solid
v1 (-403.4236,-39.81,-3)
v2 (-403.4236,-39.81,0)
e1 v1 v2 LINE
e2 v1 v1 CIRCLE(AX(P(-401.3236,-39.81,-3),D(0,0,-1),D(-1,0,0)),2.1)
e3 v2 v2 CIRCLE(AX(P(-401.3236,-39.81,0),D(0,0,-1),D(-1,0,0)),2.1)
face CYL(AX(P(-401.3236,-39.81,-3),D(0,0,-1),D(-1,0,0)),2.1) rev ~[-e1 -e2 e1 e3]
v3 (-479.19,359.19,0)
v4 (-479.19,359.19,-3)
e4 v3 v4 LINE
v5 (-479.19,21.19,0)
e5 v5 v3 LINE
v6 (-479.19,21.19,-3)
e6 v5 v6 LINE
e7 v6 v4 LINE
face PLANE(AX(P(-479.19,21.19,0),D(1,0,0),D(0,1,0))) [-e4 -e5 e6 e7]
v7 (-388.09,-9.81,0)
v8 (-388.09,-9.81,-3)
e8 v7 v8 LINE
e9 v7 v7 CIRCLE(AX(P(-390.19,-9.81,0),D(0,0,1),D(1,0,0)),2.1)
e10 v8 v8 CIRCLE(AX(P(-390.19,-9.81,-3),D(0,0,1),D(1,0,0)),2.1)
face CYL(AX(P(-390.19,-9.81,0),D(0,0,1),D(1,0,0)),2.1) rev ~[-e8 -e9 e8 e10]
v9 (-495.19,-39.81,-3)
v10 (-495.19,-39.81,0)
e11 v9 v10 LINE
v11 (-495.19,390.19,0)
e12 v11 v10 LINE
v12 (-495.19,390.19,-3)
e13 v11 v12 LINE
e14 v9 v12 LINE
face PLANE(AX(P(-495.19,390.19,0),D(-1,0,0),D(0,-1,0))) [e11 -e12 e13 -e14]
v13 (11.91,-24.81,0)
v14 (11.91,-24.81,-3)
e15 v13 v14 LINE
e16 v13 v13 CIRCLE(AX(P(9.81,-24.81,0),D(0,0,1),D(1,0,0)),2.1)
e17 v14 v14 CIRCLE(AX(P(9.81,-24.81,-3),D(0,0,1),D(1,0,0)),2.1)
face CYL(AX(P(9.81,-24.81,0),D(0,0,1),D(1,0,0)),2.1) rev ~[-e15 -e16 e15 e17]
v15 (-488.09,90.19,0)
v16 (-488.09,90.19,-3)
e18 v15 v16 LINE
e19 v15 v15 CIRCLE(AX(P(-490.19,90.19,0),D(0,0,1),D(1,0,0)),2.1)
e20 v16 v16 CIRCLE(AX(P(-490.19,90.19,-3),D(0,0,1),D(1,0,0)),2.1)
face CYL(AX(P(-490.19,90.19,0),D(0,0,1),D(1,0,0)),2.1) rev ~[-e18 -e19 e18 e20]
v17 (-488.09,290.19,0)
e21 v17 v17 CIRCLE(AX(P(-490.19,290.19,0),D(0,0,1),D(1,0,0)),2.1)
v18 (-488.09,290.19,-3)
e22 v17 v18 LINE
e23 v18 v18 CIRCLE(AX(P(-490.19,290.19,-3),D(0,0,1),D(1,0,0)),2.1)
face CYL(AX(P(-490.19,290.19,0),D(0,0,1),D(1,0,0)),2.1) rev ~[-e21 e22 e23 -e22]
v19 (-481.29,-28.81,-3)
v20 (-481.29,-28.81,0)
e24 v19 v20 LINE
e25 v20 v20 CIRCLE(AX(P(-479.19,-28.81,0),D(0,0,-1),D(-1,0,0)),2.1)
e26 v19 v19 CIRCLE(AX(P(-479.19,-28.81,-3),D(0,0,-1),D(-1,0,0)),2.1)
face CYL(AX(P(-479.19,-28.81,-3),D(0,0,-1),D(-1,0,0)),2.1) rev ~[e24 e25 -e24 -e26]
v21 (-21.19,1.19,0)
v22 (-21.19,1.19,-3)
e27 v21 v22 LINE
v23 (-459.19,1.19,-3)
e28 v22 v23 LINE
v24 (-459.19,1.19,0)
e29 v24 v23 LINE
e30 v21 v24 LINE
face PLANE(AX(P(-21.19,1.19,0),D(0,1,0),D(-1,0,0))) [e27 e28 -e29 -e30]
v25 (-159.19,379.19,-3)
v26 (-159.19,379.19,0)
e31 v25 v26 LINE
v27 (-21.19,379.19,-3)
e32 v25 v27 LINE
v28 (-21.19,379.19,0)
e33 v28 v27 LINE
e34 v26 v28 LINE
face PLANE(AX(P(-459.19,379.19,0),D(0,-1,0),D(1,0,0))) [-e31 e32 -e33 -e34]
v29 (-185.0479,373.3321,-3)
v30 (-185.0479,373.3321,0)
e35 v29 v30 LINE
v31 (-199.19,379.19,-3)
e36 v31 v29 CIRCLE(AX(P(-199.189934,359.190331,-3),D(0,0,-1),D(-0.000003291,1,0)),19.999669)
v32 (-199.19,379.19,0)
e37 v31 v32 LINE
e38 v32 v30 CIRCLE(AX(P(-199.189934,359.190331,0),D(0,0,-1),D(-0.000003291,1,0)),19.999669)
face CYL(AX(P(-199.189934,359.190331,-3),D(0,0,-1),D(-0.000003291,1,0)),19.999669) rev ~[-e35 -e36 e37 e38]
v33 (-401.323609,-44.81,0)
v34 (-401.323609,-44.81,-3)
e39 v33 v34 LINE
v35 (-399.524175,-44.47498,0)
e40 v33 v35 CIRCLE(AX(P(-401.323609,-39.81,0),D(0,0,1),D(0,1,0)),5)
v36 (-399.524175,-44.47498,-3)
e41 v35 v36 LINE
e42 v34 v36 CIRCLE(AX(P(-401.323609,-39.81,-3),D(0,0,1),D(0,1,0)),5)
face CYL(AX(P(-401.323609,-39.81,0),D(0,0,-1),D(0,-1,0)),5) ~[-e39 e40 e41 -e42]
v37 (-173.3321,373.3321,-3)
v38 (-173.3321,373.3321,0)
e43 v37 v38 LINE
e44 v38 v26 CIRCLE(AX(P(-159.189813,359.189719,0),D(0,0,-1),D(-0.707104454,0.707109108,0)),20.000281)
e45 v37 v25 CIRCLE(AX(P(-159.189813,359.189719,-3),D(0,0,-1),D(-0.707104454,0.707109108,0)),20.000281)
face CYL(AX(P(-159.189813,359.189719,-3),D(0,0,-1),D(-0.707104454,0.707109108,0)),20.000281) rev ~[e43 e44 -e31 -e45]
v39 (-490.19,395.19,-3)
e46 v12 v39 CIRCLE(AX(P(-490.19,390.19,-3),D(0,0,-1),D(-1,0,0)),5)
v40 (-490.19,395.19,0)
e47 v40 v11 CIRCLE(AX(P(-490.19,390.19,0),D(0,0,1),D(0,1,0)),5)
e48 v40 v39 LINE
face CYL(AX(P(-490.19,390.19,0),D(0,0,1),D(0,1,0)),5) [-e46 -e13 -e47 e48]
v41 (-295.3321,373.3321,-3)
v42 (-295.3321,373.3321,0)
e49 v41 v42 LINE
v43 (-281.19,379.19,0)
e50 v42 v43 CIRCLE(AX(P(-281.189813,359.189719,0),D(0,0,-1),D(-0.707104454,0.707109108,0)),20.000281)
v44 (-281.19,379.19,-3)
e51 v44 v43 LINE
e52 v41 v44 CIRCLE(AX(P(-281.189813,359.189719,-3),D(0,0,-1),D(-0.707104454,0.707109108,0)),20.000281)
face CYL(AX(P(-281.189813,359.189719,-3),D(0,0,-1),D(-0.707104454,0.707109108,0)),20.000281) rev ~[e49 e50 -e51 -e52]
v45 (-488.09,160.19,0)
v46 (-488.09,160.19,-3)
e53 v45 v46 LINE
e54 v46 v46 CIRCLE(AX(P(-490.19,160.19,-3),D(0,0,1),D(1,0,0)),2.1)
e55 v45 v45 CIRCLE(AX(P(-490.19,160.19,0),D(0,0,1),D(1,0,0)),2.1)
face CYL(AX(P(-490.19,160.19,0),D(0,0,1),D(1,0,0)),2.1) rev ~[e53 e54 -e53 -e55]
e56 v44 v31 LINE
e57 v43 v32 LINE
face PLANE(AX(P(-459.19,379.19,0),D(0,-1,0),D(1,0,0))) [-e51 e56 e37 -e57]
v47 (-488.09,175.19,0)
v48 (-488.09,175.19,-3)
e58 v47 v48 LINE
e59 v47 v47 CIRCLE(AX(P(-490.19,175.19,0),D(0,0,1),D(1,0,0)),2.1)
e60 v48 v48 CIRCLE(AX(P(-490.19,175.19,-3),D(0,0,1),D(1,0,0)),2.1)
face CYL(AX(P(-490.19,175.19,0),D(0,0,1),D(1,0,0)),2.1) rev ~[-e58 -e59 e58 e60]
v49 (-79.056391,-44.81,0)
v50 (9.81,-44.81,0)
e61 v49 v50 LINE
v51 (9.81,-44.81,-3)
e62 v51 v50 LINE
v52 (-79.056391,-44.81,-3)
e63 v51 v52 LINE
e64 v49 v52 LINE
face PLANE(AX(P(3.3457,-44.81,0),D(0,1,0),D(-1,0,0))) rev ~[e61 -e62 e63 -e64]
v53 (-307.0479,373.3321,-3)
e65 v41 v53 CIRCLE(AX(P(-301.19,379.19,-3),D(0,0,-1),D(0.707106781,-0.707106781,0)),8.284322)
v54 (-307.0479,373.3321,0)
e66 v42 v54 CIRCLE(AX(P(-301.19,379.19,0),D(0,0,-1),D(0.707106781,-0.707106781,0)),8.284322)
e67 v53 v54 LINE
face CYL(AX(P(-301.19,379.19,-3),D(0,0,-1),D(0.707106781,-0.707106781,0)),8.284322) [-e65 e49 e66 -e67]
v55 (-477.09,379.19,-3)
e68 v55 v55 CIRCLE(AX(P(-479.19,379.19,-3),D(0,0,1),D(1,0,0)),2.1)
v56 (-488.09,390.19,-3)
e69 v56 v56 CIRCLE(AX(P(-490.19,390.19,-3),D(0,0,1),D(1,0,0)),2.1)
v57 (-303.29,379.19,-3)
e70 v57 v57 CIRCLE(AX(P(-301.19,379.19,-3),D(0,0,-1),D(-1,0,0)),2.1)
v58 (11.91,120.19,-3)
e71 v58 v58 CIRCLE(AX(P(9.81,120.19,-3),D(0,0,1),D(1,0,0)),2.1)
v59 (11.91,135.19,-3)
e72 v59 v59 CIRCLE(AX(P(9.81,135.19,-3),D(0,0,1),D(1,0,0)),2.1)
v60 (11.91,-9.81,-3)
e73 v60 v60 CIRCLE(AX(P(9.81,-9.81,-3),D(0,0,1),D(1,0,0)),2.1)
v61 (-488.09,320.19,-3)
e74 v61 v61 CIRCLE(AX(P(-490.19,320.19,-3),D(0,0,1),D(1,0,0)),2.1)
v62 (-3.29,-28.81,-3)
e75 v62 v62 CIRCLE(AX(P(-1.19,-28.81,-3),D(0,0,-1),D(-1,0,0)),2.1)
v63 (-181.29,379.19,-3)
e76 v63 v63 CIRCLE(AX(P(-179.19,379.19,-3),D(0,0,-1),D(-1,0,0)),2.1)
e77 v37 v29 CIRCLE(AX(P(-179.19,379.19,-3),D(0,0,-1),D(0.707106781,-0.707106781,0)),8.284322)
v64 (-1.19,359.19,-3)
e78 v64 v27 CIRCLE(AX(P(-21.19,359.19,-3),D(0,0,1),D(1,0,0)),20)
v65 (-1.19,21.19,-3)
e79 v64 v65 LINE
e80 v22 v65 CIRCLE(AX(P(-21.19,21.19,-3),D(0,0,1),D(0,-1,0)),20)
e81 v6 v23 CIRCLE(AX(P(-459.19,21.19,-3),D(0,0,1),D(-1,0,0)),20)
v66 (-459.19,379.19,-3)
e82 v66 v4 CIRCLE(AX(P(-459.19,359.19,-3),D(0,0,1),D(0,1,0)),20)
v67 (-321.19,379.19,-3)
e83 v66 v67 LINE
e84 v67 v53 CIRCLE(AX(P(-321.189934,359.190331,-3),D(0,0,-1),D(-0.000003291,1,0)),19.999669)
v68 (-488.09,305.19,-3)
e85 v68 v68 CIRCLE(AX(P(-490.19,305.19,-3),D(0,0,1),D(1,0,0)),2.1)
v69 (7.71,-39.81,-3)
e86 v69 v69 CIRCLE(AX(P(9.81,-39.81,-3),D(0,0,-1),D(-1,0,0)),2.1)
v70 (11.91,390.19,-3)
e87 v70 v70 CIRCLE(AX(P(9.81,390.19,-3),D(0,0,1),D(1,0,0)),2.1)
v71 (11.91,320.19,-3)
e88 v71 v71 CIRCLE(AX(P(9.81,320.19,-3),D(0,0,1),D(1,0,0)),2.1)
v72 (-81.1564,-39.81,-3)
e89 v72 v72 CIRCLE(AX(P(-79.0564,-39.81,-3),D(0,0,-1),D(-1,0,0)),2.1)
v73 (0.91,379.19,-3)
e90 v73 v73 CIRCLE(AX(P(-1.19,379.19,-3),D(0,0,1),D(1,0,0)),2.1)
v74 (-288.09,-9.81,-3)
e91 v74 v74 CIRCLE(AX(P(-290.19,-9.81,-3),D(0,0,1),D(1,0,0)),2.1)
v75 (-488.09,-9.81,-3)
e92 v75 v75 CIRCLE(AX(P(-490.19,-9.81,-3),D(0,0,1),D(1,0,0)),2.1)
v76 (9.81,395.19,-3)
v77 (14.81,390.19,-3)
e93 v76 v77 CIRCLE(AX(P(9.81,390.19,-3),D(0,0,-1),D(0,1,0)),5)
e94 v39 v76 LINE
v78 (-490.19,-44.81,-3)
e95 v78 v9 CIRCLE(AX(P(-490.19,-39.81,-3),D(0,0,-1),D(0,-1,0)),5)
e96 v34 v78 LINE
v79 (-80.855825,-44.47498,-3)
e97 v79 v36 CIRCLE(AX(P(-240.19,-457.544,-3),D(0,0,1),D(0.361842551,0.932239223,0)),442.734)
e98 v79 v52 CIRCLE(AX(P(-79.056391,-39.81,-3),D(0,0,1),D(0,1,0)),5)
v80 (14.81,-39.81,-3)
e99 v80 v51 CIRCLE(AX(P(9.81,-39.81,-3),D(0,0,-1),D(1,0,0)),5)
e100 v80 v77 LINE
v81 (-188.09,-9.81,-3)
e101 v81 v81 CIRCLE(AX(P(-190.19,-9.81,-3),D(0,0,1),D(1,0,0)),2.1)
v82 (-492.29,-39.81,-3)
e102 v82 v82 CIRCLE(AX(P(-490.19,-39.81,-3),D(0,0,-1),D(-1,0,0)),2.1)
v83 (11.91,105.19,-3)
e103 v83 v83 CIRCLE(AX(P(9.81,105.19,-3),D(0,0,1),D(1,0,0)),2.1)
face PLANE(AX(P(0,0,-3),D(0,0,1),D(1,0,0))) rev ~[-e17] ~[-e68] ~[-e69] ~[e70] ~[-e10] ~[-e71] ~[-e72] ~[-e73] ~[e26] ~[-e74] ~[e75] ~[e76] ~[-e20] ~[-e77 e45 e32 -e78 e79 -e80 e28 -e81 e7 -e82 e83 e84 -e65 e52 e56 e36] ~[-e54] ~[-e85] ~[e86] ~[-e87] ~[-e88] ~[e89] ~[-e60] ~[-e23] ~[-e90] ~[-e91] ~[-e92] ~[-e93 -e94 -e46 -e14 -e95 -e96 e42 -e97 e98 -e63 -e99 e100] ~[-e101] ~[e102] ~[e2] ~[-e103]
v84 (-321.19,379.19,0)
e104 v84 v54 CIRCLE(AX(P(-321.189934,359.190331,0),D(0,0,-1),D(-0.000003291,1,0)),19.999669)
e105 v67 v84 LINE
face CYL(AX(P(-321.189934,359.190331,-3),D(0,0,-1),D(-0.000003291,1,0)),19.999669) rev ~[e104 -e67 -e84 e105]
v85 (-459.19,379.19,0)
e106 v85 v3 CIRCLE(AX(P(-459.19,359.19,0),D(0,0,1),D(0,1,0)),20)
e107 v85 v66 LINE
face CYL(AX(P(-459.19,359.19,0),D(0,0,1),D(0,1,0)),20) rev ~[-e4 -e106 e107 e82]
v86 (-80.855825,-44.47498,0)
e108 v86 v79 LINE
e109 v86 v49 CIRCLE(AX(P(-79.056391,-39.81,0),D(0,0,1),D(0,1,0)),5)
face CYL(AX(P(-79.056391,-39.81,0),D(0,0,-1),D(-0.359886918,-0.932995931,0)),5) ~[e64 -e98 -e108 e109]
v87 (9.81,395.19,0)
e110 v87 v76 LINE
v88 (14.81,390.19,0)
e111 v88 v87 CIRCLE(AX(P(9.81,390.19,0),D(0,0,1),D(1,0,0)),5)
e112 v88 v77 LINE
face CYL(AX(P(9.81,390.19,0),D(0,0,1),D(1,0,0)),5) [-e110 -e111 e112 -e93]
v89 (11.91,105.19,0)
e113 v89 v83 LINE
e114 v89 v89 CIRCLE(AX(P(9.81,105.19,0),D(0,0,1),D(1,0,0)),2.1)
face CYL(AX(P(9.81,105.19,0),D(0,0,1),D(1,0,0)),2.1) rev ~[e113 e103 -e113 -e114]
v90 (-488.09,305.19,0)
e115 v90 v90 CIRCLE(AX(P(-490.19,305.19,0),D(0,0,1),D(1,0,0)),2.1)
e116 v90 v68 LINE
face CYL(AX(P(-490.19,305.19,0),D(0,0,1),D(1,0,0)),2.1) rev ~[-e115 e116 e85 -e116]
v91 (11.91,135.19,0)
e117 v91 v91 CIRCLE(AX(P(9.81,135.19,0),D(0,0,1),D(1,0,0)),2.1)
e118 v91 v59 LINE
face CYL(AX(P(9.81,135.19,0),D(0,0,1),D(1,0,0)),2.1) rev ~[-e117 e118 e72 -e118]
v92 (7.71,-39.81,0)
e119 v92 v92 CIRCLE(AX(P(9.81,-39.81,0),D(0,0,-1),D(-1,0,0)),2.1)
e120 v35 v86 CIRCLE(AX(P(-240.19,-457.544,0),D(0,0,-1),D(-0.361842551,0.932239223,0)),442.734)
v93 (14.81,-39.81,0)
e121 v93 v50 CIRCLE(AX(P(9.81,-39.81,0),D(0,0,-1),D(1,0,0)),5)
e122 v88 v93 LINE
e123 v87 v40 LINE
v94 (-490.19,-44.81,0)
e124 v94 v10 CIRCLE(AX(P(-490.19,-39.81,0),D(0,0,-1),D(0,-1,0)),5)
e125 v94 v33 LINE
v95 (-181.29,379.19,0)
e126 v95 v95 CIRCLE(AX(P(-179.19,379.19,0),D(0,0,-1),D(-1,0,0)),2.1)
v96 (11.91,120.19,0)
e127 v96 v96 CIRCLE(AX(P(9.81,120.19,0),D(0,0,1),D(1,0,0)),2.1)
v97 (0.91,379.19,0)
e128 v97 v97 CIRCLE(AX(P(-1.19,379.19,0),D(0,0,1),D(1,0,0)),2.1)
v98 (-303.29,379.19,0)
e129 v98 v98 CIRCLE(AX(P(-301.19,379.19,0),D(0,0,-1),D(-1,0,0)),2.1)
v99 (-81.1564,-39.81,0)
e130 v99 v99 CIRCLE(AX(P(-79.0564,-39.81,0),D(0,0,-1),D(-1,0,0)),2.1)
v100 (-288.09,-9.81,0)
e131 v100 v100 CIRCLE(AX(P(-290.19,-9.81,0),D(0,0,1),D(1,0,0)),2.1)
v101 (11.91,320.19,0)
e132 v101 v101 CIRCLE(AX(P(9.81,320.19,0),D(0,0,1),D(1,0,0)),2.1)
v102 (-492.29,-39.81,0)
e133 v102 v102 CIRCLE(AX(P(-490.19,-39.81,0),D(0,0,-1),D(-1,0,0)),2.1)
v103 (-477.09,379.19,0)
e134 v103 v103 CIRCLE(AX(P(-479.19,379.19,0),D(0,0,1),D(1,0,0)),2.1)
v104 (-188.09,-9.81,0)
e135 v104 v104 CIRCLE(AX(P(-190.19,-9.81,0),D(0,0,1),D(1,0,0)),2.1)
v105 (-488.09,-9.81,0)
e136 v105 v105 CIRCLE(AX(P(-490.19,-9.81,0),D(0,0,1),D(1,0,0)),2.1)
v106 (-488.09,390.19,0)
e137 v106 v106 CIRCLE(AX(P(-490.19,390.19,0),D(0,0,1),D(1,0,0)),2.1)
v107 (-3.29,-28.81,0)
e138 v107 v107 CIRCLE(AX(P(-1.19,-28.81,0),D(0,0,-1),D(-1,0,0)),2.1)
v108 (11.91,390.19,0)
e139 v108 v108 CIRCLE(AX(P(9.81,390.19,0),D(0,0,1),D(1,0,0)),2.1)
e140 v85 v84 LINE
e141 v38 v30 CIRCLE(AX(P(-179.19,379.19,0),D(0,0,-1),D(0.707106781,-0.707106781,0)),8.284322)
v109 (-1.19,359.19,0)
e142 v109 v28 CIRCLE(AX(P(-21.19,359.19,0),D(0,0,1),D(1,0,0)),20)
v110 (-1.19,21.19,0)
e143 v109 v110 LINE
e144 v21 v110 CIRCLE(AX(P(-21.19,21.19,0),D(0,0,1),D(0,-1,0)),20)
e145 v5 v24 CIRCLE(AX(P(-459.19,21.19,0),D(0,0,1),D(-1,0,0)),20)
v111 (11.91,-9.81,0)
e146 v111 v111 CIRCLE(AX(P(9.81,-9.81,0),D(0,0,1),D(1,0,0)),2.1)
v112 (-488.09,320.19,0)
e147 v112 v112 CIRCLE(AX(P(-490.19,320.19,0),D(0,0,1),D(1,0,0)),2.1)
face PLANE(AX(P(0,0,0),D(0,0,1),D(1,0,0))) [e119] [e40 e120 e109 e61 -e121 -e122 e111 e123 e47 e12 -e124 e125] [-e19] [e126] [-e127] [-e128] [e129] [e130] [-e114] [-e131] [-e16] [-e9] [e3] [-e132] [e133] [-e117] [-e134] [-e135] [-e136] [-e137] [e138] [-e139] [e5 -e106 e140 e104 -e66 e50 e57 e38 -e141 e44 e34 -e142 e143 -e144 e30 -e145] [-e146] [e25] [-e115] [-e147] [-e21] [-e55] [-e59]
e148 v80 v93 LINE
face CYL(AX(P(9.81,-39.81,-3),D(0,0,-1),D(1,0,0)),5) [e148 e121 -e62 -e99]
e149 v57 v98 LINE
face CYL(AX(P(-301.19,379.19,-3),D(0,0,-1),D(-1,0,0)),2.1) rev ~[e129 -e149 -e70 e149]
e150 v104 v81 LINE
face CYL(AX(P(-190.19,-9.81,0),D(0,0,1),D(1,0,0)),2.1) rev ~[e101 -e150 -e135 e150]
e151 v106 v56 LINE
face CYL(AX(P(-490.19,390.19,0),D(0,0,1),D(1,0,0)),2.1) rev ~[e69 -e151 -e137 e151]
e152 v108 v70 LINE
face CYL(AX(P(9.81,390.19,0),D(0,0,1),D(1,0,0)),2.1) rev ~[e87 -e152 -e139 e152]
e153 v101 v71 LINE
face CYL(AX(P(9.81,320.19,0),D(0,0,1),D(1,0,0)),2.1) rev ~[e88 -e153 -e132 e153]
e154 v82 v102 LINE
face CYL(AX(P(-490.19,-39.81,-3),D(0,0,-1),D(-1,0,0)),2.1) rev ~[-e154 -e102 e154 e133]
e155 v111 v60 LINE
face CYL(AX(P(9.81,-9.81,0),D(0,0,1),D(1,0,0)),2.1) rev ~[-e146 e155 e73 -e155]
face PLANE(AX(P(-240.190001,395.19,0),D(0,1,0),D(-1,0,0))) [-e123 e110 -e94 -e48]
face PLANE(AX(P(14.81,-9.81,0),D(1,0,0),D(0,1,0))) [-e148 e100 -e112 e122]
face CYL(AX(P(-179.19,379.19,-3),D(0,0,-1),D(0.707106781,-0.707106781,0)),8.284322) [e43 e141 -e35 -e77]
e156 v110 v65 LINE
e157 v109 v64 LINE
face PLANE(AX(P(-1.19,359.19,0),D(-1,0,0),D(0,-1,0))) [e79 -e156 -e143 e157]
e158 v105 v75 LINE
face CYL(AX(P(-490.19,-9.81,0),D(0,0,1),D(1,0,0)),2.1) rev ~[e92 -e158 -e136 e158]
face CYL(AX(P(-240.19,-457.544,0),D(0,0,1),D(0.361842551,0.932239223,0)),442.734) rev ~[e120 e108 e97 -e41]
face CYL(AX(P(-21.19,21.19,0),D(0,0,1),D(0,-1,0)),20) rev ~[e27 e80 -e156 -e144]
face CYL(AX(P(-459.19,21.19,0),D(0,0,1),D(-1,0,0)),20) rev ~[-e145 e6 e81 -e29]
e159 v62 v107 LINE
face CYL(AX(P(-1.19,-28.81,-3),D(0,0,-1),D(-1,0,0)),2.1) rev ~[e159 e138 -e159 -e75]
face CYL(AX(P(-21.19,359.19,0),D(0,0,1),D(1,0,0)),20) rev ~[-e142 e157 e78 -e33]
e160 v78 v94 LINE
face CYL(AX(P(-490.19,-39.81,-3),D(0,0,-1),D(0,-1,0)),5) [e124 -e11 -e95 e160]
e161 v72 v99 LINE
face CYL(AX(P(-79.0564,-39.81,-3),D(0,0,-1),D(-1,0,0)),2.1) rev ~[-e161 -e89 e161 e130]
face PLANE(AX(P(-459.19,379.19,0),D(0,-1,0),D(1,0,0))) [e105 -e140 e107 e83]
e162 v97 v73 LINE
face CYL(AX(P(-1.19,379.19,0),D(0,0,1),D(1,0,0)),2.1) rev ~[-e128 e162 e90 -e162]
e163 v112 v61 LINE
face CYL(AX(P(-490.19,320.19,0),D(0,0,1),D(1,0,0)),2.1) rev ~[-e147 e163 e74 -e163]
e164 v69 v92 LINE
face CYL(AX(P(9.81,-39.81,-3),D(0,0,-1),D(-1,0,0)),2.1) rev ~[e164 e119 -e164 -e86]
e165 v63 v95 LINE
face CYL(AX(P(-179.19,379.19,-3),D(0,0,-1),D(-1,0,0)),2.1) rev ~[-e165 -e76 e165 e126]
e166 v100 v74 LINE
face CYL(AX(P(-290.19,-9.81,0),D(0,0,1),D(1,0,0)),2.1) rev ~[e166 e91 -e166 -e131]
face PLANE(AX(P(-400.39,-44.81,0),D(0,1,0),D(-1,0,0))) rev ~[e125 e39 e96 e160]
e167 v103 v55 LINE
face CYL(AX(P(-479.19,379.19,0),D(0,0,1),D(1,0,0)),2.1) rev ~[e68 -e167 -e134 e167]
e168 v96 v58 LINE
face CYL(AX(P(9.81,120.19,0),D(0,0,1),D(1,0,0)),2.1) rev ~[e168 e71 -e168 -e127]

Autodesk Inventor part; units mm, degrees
ref_plane "YZ Plane" through (0, 0, 0) normal (1, 0, 0) x (0, 1, 0)
ref_plane "XZ Plane" through (0, 0, 0) normal (0, 1, 0) x (-1, 0, 0)
ref_plane "XY Plane" through (0, 0, 0) normal (0, 0, 1) x (1, 0, 0)
sketch "スケッチ1" plane through (0, 0, 0) normal (0, 0, 1) x (1, 0, 0)
  circle A0 centre (-490.19, 90.19) radius 2.1 projected
  circle A1 centre (-490.19, 290.19) radius 2.1 projected
  circle A2 centre (-190.19, 390.19) radius 2.1 projected
  circle A3 centre (-390.19, 390.19) radius 2.1 projected
  circle A4 centre (-290.19, -9.81) radius 2.1 projected
  circle A5 centre (-90.19, -9.81) radius 2.1 projected
  circle A6 centre (9.81, 190.19) radius 2.1 projected
  circle A7 centre (9.81, 390.19) radius 2.1 projected
  circle A8 centre (-490.19, -9.81) radius 2.1 projected
  circle A9 centre (-233.68, 12.7) radius 1.6 construction
  circle A10 centre (-29.21, 294.64) radius 1.6 construction
  circle A11 centre (-161.29, 294.64) radius 1.6 construction
  circle A12 centre (-233.68, 294.64) radius 1.6 construction
  circle A13 centre (-233.68, 137.16) radius 1.6 construction
  circle A14 centre (-161.29, 137.16) radius 1.6 construction
  circle A15 centre (-6.35, 137.16) radius 1.6 construction
  circle A16 centre (-6.35, 12.7) radius 1.6 construction
  circle A17 centre (-161.29, 12.7) radius 1.6 construction
  circle A18 centre (9.81, -9.81) radius 2.1 projected
  circle A19 centre (-490.19, 390.19) radius 2.1 projected
  circle A20 centre (9.81, 290.19) radius 2.1 projected
  circle A21 centre (9.81, 90.19) radius 2.1
  circle A22 centre (-190.19, -9.81) radius 2.1 projected
  circle A23 centre (-390.19, -9.81) radius 2.1 projected
  circle A24 centre (-290.19, 390.19) radius 2.1 projected
  circle A25 centre (-90.19, 390.19) radius 2.1 projected
  circle A26 centre (-490.19, 190.19) radius 2.1 projected
  line L0 (-21.19, 1.19) -> (-459.19, 1.19)
  line L1 (-479.19, 21.19) -> (-479.19, 359.19)
  line L2 (-459.19, 379.19) -> (-21.19, 379.19)
  line L3 (-1.19, 359.19) -> (-1.19, 21.19)
  circle A27 centre (9.81, -9.81) radius 5
  circle A28 centre (9.81, -9.81) radius 15.5563 construction
  line L4 (9.81, -9.81) -> (-1.19, 1.19) construction
  line L5 (9.81, -9.81) -> (25.3663, -9.81) construction
  circle A29 centre (-1.19, 1.19) radius 5 construction
  circle A30 centre (-1.19, 1.19) radius 2.1
  line L6 (-240.19, 1.19) -> (-240.19, 379.19) construction
  line L7 (-1.19, 190.19) -> (-479.19, 190.19) construction
  circle A31 centre (-1.19, 379.19) radius 2.1
  circle A32 centre (-479.19, 1.19) radius 2.1
  circle A33 centre (-479.19, 379.19) radius 2.1
  arc A34 (-1.19, 359.19) -> (-21.19, 379.19) centre (-21.19, 359.19) ccw
  arc A35 (-459.19, 379.19) -> (-479.19, 359.19) centre (-459.19, 359.19) ccw
  arc A36 (-479.19, 21.19) -> (-459.19, 1.19) centre (-459.19, 21.19) ccw
  arc A37 (-21.19, 1.19) -> (-1.19, 21.19) centre (-21.19, 21.19) ccw
  line L8 (9.81, -4.81) -> (-11.2166, -4.81) construction
  arc A38 (-483.7257, 425.19) -> (-483.7257, -44.81) centre (161.4767, 190.19) ccw projected
  line L9 (-483.7257, 425.19) -> (-379.99, 425.19) projected
  arc A39 (-379.99, 425.19) -> (-100.39, 425.19) centre (-240.19, 735.924) ccw projected
  line L10 (-100.39, 425.19) -> (3.3457, 425.19) projected
  arc A40 (3.3457, -44.81) -> (3.3457, 425.19) centre (-641.8567, 190.19) ccw projected
  line L11 (3.3457, -44.81) -> (-79.99, -44.81) projected
  arc A41 (-79.99, -44.81) -> (-400.39, -44.81) centre (-240.19, -457.544) ccw projected
  line L12 (-400.39, -44.81) -> (-483.7257, -44.81) projected
  arc A42 (14.81, 390.19) -> (9.81, 395.19) centre (9.81, 390.19) ccw
  line L13 (9.81, 395.19) -> (-490.19, 395.19)
  line L14 (14.81, -9.81) -> (14.81, 390.19)
  arc A43 (9.81, -14.81) -> (14.81, -9.81) centre (9.81, -9.81) ccw construction
  line L15 (-490.19, -14.81) -> (9.81, -14.81)
  arc A44 (-495.19, -9.81) -> (-490.19, -14.81) centre (-490.19, -9.81) ccw
  line L16 (-495.19, 390.19) -> (-495.19, -9.81)
  arc A45 (-490.19, 395.19) -> (-495.19, 390.19) centre (-490.19, 390.19) ccw
  point P0 (0, 0)
  point P1 (-1.19, 1.19)
  point P2 (-479.19, 379.19)
  point P3 (-479.19, 1.19)
  point P4 (-1.19, 379.19)
  point P5 (14.59, -11.277)
  point P6 (-494.97, 391.657)
  point P7 (-494.97, -11.277)
  dimension "d4" = 31.1127
  dimension "d5" = 135
  dimension "d6" = 10
  dimension "d10" = 20
  dimension "d11" = 6
  dimension "d14" = 11
  dimension "d15" = 11
  dimension "d16" = 11
  dimension "d17" = 11
  dimension "d18" = 11
  dimension "d30" = 100
extrude "押し出し1" add sketch "スケッチ1" against normal blind 3 contours A27 | A27 L15 A44 L16 A45 L13 A42 L14 | A27 A40 L11 A41 L15 | A41 L12 A38 A44 L15 | A30 | A32
sketch "スケッチ3" plane through (0, 0, -3) normal (0, 0, -1) x (-1, 0, 0)
  arc A0 (-14.81, -9.81) -> (-14.59, -11.277) centre (-9.81, -9.81) ccw projected
  arc A1 (-14.59, -11.277) -> (-3.3457, -44.81) centre (641.8567, 190.19) ccw projected
  arc A2 (483.7257, -44.81) -> (494.97, -11.277) centre (-161.4767, 190.19) ccw projected
  arc A3 (494.97, -11.277) -> (495.19, -9.81) centre (490.19, -9.81) ccw projected
  line L0 (-14.81, -9.81) -> (-14.81, -39.81)
  arc A4 (-14.81, -39.81) -> (-9.81, -44.81) centre (-9.81, -39.81) ccw
  line L1 (79.99, -44.81) -> (-3.3457, -44.81) projected
  line L2 (-9.81, -44.81) -> (-3.3457, -44.81)
  line L3 (495.19, -9.81) -> (495.19, -39.81)
  arc A5 (490.19, -44.81) -> (495.19, -39.81) centre (490.19, -39.81) ccw
  line L4 (490.19, -44.81) -> (483.7257, -44.81)
  point P0 (0, 0)
  dimension "d19" = 5
extrude "押し出し3" add sketch "スケッチ3" against normal up to surface (3 mm away)
fillet "フィレット2" radius 5 2 edges at (-79.99, -44.81, -1.5) (-400.39, -44.81, -1.5)
sketch "スケッチ4" plane through (0, 0, -3) normal (0, 0, -1) x (-1, 0, 0)
  arc A0 (-14.81, -39.81) -> (-9.81, -44.81) centre (-9.81, -39.81) ccw construction
  circle A1 centre (-9.81, -9.81) radius 2.1 construction
  arc A2 (490.19, -44.81) -> (495.19, -39.81) centre (490.19, -39.81) ccw construction
  circle A3 centre (490.19, -9.81) radius 2.1 construction
  line L0 (-9.81, -9.81) -> (1.19, 1.19) construction
  line L1 (1.19, 1.19) -> (1.19, -28.81) construction
  line L2 (1.19, -28.81) -> (-9.81, -39.81) construction
  line L3 (-9.81, -39.81) -> (-9.81, -9.81) construction
  line L4 (479.19, 1.19) -> (490.19, -9.81) construction
  line L5 (490.19, -9.81) -> (490.19, -39.81) construction
  line L6 (490.19, -39.81) -> (479.19, -28.81) construction
  line L7 (479.19, -28.81) -> (479.19, 1.19) construction
  circle A4 centre (-9.81, -39.81) radius 2.1
  circle A5 centre (490.19, -39.81) radius 2.1
  arc A6 (79.0564, -44.81) -> (80.8558, -44.475) centre (79.0564, -39.81) ccw construction
  arc A7 (399.5242, -44.475) -> (401.3236, -44.81) centre (401.3236, -39.81) ccw construction
  circle A8 centre (401.3236, -39.81) radius 2.1
  circle A9 centre (79.0564, -39.81) radius 2.1
  circle A10 centre (1.19, -28.81) radius 2.1
  circle A11 centre (479.19, -28.81) radius 2.1
  dimension "d27" = 11
  dimension "d28" = 11
  dimension "d29" = 45
extrude "押し出し4" cut sketch "スケッチ4" against normal through all
sketch "スケッチ5" plane through (0, 0, 0) normal (0, 0, 1) x (1, 0, 0)
  circle A0 centre (-490.19, 290.19) radius 2.1 construction
  circle A1 centre (-490.19, 190.19) radius 2.1 construction
  circle A2 centre (9.81, 90.19) radius 2.1 construction
  line L0 (9.81, 90.19) -> (9.81, 120.19) construction
  line L1 (-490.19, 290.19) -> (-490.19, 320.19) construction
  line L2 (-490.19, 190.19) -> (-490.19, 160.19) construction
  circle A3 centre (-490.19, 320.19) radius 2.1
  circle A4 centre (-490.19, 160.19) radius 2.1
  circle A5 centre (9.81, 120.19) radius 2.1
  circle A6 centre (9.81, 105.19) radius 2.1
  circle A7 centre (9.81, 135.19) radius 2.1
  circle A8 centre (-490.19, 175.19) radius 2.1
  circle A9 centre (-490.19, 305.19) radius 2.1
  circle A10 centre (9.81, -9.81) radius 2.1 construction
  circle A11 centre (9.81, -39.81) radius 2.1 construction
  line L3 (9.81, -9.81) -> (9.81, -39.81) construction
  circle A12 centre (9.81, -24.81) radius 2.1
  circle A13 centre (9.81, 290.19) radius 2.1 construction
  line L4 (9.81, 290.19) -> (9.81, 320.19) construction
  circle A14 centre (9.81, 320.19) radius 2.1
  dimension "d34" = 30
  dimension "d35" = 15
extrude "押し出し5" cut sketch "スケッチ5" along normal through all both and the other way through all
sketch "スケッチ6" plane through (0, 0, -3) normal (0, 0, -1) x (-1, 0, 0)
  circle A0 centre (1.19, 379.19) radius 2.1 construction
  arc A1 (21.19, 379.19) -> (1.19, 359.19) centre (21.19, 359.19) ccw construction
  circle A2 centre (1.19, 379.19) radius 8.2843 construction
  arc A3 (479.19, 359.19) -> (459.19, 379.19) centre (459.19, 359.19) ccw construction
  circle A4 centre (479.19, 379.19) radius 2.1 construction
  circle A5 centre (301.19, 379.19) radius 2.1 construction
  circle A6 centre (179.19, 379.19) radius 2.1 construction
  circle A7 centre (479.19, 379.19) radius 8.2843 construction
  circle A8 centre (179.19, 379.19) radius 8.2843 construction
  circle A9 centre (301.19, 379.19) radius 8.2843 construction
  circle A10 centre (490.19, 305.19) radius 2.1 construction
  circle A11 centre (490.19, 320.19) radius 2.1 construction
  circle A12 centre (490.19, 160.19) radius 2.1 construction
  circle A13 centre (490.19, 175.19) radius 2.1 construction
  circle A14 centre (-9.81, -24.81) radius 2.1 construction
  circle A15 centre (-9.81, 135.19) radius 2.1 construction
  circle A16 centre (-9.81, 120.19) radius 2.1 construction
  circle A17 centre (-9.81, 105.19) radius 2.1 construction
  circle A18 centre (-9.81, 320.19) radius 2.1 construction
  circle A19 centre (79.0564, -39.81) radius 2.1 construction
  circle A20 centre (490.19, -39.81) radius 2.1 construction
  circle A21 centre (479.19, -28.81) radius 2.1 construction
  circle A22 centre (401.3236, -39.81) radius 2.1 construction
  circle A23 centre (-9.81, -39.81) radius 2.1 construction
  circle A24 centre (1.19, -28.81) radius 2.1 construction
  arc A25 (399.5242, -44.475) -> (401.3236, -44.81) centre (401.3236, -39.81) ccw construction
  line L0 (401.3236, -44.81) -> (490.19, -44.81) construction
  arc A26 (490.19, -44.81) -> (495.19, -39.81) centre (490.19, -39.81) ccw construction
  line L1 (495.19, -39.81) -> (495.19, 390.19) construction
  arc A27 (495.19, 390.19) -> (490.19, 395.19) centre (490.19, 390.19) ccw construction
  line L2 (490.19, 395.19) -> (-9.81, 395.19) construction
  arc A28 (-9.81, 395.19) -> (-14.81, 390.19) centre (-9.81, 390.19) ccw construction
  line L3 (-14.81, 390.19) -> (-14.81, -39.81) construction
  arc A29 (-14.81, -39.81) -> (-9.81, -44.81) centre (-9.81, -39.81) ccw construction
  line L4 (-9.81, -44.81) -> (79.0564, -44.81) construction
  arc A30 (79.0564, -44.81) -> (80.8558, -44.475) centre (79.0564, -39.81) ccw construction
  arc A31 (399.5242, -44.475) -> (80.8558, -44.475) centre (240.19, -457.544) ccw construction
  circle A32 centre (-9.81, -9.81) radius 2.1 construction
  circle A33 centre (490.19, 90.19) radius 2.1 construction
  circle A34 centre (490.19, 290.19) radius 2.1 construction
  circle A35 centre (-9.81, 190.19) radius 2.1 construction
  circle A36 centre (-9.81, 390.19) radius 2.1 construction
  circle A37 centre (490.19, -9.81) radius 2.1 construction
  circle A38 centre (490.19, 390.19) radius 2.1 construction
  circle A39 centre (-9.81, 290.19) radius 2.1 construction
  circle A40 centre (-9.81, 90.19) radius 2.1 construction
  circle A41 centre (490.19, 190.19) radius 2.1 construction
  line L5 (1.19, 21.19) -> (1.19, 359.19) construction
  arc A42 (21.19, 379.19) -> (1.19, 359.19) centre (21.19, 359.19) ccw construction
  line L6 (21.19, 379.19) -> (459.19, 379.19) construction
  arc A43 (479.19, 359.19) -> (459.19, 379.19) centre (459.19, 359.19) ccw construction
  line L7 (479.19, 359.19) -> (479.19, 21.19) construction
  arc A44 (459.19, 1.19) -> (479.19, 21.19) centre (459.19, 21.19) ccw construction
  line L8 (459.19, 1.19) -> (21.19, 1.19) construction
  arc A45 (1.19, 21.19) -> (21.19, 1.19) centre (21.19, 21.19) ccw construction
  circle A46 centre (1.19, 379.19) radius 2.1 construction
  circle A47 centre (479.19, 379.19) radius 2.1 construction
  circle A48 centre (190.19, 390.19) radius 2.1 construction
  circle A49 centre (390.19, 390.19) radius 2.1 construction
  circle A50 centre (290.19, -9.81) radius 2.1 construction
  circle A51 centre (90.19, -9.81) radius 2.1 construction
  circle A52 centre (190.19, -9.81) radius 2.1 construction
  circle A53 centre (390.19, -9.81) radius 2.1 construction
  circle A54 centre (290.19, 390.19) radius 2.1 construction
  circle A55 centre (90.19, 390.19) radius 2.1 construction
  arc A56 (173.3321, 373.3321) -> (159.19, 379.19) centre (159.19, 359.19) ccw
  arc A57 (199.19, 379.19) -> (185.0479, 373.3321) centre (199.19, 359.19) ccw
  arc A58 (295.3321, 373.3321) -> (281.19, 379.19) centre (281.19, 359.19) ccw
  arc A59 (321.19, 379.19) -> (307.0479, 373.3321) centre (321.19, 359.19) ccw
  line L9 (21.19, 379.19) -> (459.19, 379.19) construction
  arc A60 (173.3321, 373.3321) -> (185.0479, 373.3321) centre (179.19, 379.19) ccw
  arc A61 (295.3321, 373.3321) -> (307.0479, 373.3321) centre (301.19, 379.19) ccw
  line L10 (159.19, 379.19) -> (199.19, 379.19)
  line L11 (281.19, 379.19) -> (321.19, 379.19)
  point P0 (0, 0)
extrude "押し出し6" add sketch "スケッチ6" against normal up to surface (3 mm away)
sketch "スケッチ7" plane through (0, 0, -3) normal (0, 0, -1) x (-1, 0, 0)
  circle A0 centre (179.19, 379.19) radius 2.1 projected
  circle A1 centre (301.19, 379.19) radius 2.1 projected
  point P0 (0, 0)
extrude "押し出し7" cut sketch "スケッチ7" against normal up to surface (3 mm away)
sketch "スケッチ8" plane through (0, 0, -3) normal (0, 0, -1) x (-1, 0, 0)
  circle A0 centre (-9.81, 90.19) radius 2.1 projected
  circle A1 centre (490.19, 190.19) radius 2.1 projected
  circle A2 centre (-9.81, 290.19) radius 2.1 projected
  circle A3 centre (-9.81, 190.19) radius 2.1 projected
  circle A4 centre (90.19, 390.19) radius 2.1 projected
  circle A5 centre (190.19, 390.19) radius 2.1 projected
  circle A6 centre (290.19, 390.19) radius 2.1 projected
  circle A7 centre (390.19, 390.19) radius 2.1 projected
  circle A8 centre (90.19, -9.81) radius 2.1 projected
  point P0 (0, 0)
extrude "押し出し8" add sketch "スケッチ8" against normal up to surface (3 mm away)
equation "\"d35\" = 0.5 * d34"
properties part number "left_plate_01"
